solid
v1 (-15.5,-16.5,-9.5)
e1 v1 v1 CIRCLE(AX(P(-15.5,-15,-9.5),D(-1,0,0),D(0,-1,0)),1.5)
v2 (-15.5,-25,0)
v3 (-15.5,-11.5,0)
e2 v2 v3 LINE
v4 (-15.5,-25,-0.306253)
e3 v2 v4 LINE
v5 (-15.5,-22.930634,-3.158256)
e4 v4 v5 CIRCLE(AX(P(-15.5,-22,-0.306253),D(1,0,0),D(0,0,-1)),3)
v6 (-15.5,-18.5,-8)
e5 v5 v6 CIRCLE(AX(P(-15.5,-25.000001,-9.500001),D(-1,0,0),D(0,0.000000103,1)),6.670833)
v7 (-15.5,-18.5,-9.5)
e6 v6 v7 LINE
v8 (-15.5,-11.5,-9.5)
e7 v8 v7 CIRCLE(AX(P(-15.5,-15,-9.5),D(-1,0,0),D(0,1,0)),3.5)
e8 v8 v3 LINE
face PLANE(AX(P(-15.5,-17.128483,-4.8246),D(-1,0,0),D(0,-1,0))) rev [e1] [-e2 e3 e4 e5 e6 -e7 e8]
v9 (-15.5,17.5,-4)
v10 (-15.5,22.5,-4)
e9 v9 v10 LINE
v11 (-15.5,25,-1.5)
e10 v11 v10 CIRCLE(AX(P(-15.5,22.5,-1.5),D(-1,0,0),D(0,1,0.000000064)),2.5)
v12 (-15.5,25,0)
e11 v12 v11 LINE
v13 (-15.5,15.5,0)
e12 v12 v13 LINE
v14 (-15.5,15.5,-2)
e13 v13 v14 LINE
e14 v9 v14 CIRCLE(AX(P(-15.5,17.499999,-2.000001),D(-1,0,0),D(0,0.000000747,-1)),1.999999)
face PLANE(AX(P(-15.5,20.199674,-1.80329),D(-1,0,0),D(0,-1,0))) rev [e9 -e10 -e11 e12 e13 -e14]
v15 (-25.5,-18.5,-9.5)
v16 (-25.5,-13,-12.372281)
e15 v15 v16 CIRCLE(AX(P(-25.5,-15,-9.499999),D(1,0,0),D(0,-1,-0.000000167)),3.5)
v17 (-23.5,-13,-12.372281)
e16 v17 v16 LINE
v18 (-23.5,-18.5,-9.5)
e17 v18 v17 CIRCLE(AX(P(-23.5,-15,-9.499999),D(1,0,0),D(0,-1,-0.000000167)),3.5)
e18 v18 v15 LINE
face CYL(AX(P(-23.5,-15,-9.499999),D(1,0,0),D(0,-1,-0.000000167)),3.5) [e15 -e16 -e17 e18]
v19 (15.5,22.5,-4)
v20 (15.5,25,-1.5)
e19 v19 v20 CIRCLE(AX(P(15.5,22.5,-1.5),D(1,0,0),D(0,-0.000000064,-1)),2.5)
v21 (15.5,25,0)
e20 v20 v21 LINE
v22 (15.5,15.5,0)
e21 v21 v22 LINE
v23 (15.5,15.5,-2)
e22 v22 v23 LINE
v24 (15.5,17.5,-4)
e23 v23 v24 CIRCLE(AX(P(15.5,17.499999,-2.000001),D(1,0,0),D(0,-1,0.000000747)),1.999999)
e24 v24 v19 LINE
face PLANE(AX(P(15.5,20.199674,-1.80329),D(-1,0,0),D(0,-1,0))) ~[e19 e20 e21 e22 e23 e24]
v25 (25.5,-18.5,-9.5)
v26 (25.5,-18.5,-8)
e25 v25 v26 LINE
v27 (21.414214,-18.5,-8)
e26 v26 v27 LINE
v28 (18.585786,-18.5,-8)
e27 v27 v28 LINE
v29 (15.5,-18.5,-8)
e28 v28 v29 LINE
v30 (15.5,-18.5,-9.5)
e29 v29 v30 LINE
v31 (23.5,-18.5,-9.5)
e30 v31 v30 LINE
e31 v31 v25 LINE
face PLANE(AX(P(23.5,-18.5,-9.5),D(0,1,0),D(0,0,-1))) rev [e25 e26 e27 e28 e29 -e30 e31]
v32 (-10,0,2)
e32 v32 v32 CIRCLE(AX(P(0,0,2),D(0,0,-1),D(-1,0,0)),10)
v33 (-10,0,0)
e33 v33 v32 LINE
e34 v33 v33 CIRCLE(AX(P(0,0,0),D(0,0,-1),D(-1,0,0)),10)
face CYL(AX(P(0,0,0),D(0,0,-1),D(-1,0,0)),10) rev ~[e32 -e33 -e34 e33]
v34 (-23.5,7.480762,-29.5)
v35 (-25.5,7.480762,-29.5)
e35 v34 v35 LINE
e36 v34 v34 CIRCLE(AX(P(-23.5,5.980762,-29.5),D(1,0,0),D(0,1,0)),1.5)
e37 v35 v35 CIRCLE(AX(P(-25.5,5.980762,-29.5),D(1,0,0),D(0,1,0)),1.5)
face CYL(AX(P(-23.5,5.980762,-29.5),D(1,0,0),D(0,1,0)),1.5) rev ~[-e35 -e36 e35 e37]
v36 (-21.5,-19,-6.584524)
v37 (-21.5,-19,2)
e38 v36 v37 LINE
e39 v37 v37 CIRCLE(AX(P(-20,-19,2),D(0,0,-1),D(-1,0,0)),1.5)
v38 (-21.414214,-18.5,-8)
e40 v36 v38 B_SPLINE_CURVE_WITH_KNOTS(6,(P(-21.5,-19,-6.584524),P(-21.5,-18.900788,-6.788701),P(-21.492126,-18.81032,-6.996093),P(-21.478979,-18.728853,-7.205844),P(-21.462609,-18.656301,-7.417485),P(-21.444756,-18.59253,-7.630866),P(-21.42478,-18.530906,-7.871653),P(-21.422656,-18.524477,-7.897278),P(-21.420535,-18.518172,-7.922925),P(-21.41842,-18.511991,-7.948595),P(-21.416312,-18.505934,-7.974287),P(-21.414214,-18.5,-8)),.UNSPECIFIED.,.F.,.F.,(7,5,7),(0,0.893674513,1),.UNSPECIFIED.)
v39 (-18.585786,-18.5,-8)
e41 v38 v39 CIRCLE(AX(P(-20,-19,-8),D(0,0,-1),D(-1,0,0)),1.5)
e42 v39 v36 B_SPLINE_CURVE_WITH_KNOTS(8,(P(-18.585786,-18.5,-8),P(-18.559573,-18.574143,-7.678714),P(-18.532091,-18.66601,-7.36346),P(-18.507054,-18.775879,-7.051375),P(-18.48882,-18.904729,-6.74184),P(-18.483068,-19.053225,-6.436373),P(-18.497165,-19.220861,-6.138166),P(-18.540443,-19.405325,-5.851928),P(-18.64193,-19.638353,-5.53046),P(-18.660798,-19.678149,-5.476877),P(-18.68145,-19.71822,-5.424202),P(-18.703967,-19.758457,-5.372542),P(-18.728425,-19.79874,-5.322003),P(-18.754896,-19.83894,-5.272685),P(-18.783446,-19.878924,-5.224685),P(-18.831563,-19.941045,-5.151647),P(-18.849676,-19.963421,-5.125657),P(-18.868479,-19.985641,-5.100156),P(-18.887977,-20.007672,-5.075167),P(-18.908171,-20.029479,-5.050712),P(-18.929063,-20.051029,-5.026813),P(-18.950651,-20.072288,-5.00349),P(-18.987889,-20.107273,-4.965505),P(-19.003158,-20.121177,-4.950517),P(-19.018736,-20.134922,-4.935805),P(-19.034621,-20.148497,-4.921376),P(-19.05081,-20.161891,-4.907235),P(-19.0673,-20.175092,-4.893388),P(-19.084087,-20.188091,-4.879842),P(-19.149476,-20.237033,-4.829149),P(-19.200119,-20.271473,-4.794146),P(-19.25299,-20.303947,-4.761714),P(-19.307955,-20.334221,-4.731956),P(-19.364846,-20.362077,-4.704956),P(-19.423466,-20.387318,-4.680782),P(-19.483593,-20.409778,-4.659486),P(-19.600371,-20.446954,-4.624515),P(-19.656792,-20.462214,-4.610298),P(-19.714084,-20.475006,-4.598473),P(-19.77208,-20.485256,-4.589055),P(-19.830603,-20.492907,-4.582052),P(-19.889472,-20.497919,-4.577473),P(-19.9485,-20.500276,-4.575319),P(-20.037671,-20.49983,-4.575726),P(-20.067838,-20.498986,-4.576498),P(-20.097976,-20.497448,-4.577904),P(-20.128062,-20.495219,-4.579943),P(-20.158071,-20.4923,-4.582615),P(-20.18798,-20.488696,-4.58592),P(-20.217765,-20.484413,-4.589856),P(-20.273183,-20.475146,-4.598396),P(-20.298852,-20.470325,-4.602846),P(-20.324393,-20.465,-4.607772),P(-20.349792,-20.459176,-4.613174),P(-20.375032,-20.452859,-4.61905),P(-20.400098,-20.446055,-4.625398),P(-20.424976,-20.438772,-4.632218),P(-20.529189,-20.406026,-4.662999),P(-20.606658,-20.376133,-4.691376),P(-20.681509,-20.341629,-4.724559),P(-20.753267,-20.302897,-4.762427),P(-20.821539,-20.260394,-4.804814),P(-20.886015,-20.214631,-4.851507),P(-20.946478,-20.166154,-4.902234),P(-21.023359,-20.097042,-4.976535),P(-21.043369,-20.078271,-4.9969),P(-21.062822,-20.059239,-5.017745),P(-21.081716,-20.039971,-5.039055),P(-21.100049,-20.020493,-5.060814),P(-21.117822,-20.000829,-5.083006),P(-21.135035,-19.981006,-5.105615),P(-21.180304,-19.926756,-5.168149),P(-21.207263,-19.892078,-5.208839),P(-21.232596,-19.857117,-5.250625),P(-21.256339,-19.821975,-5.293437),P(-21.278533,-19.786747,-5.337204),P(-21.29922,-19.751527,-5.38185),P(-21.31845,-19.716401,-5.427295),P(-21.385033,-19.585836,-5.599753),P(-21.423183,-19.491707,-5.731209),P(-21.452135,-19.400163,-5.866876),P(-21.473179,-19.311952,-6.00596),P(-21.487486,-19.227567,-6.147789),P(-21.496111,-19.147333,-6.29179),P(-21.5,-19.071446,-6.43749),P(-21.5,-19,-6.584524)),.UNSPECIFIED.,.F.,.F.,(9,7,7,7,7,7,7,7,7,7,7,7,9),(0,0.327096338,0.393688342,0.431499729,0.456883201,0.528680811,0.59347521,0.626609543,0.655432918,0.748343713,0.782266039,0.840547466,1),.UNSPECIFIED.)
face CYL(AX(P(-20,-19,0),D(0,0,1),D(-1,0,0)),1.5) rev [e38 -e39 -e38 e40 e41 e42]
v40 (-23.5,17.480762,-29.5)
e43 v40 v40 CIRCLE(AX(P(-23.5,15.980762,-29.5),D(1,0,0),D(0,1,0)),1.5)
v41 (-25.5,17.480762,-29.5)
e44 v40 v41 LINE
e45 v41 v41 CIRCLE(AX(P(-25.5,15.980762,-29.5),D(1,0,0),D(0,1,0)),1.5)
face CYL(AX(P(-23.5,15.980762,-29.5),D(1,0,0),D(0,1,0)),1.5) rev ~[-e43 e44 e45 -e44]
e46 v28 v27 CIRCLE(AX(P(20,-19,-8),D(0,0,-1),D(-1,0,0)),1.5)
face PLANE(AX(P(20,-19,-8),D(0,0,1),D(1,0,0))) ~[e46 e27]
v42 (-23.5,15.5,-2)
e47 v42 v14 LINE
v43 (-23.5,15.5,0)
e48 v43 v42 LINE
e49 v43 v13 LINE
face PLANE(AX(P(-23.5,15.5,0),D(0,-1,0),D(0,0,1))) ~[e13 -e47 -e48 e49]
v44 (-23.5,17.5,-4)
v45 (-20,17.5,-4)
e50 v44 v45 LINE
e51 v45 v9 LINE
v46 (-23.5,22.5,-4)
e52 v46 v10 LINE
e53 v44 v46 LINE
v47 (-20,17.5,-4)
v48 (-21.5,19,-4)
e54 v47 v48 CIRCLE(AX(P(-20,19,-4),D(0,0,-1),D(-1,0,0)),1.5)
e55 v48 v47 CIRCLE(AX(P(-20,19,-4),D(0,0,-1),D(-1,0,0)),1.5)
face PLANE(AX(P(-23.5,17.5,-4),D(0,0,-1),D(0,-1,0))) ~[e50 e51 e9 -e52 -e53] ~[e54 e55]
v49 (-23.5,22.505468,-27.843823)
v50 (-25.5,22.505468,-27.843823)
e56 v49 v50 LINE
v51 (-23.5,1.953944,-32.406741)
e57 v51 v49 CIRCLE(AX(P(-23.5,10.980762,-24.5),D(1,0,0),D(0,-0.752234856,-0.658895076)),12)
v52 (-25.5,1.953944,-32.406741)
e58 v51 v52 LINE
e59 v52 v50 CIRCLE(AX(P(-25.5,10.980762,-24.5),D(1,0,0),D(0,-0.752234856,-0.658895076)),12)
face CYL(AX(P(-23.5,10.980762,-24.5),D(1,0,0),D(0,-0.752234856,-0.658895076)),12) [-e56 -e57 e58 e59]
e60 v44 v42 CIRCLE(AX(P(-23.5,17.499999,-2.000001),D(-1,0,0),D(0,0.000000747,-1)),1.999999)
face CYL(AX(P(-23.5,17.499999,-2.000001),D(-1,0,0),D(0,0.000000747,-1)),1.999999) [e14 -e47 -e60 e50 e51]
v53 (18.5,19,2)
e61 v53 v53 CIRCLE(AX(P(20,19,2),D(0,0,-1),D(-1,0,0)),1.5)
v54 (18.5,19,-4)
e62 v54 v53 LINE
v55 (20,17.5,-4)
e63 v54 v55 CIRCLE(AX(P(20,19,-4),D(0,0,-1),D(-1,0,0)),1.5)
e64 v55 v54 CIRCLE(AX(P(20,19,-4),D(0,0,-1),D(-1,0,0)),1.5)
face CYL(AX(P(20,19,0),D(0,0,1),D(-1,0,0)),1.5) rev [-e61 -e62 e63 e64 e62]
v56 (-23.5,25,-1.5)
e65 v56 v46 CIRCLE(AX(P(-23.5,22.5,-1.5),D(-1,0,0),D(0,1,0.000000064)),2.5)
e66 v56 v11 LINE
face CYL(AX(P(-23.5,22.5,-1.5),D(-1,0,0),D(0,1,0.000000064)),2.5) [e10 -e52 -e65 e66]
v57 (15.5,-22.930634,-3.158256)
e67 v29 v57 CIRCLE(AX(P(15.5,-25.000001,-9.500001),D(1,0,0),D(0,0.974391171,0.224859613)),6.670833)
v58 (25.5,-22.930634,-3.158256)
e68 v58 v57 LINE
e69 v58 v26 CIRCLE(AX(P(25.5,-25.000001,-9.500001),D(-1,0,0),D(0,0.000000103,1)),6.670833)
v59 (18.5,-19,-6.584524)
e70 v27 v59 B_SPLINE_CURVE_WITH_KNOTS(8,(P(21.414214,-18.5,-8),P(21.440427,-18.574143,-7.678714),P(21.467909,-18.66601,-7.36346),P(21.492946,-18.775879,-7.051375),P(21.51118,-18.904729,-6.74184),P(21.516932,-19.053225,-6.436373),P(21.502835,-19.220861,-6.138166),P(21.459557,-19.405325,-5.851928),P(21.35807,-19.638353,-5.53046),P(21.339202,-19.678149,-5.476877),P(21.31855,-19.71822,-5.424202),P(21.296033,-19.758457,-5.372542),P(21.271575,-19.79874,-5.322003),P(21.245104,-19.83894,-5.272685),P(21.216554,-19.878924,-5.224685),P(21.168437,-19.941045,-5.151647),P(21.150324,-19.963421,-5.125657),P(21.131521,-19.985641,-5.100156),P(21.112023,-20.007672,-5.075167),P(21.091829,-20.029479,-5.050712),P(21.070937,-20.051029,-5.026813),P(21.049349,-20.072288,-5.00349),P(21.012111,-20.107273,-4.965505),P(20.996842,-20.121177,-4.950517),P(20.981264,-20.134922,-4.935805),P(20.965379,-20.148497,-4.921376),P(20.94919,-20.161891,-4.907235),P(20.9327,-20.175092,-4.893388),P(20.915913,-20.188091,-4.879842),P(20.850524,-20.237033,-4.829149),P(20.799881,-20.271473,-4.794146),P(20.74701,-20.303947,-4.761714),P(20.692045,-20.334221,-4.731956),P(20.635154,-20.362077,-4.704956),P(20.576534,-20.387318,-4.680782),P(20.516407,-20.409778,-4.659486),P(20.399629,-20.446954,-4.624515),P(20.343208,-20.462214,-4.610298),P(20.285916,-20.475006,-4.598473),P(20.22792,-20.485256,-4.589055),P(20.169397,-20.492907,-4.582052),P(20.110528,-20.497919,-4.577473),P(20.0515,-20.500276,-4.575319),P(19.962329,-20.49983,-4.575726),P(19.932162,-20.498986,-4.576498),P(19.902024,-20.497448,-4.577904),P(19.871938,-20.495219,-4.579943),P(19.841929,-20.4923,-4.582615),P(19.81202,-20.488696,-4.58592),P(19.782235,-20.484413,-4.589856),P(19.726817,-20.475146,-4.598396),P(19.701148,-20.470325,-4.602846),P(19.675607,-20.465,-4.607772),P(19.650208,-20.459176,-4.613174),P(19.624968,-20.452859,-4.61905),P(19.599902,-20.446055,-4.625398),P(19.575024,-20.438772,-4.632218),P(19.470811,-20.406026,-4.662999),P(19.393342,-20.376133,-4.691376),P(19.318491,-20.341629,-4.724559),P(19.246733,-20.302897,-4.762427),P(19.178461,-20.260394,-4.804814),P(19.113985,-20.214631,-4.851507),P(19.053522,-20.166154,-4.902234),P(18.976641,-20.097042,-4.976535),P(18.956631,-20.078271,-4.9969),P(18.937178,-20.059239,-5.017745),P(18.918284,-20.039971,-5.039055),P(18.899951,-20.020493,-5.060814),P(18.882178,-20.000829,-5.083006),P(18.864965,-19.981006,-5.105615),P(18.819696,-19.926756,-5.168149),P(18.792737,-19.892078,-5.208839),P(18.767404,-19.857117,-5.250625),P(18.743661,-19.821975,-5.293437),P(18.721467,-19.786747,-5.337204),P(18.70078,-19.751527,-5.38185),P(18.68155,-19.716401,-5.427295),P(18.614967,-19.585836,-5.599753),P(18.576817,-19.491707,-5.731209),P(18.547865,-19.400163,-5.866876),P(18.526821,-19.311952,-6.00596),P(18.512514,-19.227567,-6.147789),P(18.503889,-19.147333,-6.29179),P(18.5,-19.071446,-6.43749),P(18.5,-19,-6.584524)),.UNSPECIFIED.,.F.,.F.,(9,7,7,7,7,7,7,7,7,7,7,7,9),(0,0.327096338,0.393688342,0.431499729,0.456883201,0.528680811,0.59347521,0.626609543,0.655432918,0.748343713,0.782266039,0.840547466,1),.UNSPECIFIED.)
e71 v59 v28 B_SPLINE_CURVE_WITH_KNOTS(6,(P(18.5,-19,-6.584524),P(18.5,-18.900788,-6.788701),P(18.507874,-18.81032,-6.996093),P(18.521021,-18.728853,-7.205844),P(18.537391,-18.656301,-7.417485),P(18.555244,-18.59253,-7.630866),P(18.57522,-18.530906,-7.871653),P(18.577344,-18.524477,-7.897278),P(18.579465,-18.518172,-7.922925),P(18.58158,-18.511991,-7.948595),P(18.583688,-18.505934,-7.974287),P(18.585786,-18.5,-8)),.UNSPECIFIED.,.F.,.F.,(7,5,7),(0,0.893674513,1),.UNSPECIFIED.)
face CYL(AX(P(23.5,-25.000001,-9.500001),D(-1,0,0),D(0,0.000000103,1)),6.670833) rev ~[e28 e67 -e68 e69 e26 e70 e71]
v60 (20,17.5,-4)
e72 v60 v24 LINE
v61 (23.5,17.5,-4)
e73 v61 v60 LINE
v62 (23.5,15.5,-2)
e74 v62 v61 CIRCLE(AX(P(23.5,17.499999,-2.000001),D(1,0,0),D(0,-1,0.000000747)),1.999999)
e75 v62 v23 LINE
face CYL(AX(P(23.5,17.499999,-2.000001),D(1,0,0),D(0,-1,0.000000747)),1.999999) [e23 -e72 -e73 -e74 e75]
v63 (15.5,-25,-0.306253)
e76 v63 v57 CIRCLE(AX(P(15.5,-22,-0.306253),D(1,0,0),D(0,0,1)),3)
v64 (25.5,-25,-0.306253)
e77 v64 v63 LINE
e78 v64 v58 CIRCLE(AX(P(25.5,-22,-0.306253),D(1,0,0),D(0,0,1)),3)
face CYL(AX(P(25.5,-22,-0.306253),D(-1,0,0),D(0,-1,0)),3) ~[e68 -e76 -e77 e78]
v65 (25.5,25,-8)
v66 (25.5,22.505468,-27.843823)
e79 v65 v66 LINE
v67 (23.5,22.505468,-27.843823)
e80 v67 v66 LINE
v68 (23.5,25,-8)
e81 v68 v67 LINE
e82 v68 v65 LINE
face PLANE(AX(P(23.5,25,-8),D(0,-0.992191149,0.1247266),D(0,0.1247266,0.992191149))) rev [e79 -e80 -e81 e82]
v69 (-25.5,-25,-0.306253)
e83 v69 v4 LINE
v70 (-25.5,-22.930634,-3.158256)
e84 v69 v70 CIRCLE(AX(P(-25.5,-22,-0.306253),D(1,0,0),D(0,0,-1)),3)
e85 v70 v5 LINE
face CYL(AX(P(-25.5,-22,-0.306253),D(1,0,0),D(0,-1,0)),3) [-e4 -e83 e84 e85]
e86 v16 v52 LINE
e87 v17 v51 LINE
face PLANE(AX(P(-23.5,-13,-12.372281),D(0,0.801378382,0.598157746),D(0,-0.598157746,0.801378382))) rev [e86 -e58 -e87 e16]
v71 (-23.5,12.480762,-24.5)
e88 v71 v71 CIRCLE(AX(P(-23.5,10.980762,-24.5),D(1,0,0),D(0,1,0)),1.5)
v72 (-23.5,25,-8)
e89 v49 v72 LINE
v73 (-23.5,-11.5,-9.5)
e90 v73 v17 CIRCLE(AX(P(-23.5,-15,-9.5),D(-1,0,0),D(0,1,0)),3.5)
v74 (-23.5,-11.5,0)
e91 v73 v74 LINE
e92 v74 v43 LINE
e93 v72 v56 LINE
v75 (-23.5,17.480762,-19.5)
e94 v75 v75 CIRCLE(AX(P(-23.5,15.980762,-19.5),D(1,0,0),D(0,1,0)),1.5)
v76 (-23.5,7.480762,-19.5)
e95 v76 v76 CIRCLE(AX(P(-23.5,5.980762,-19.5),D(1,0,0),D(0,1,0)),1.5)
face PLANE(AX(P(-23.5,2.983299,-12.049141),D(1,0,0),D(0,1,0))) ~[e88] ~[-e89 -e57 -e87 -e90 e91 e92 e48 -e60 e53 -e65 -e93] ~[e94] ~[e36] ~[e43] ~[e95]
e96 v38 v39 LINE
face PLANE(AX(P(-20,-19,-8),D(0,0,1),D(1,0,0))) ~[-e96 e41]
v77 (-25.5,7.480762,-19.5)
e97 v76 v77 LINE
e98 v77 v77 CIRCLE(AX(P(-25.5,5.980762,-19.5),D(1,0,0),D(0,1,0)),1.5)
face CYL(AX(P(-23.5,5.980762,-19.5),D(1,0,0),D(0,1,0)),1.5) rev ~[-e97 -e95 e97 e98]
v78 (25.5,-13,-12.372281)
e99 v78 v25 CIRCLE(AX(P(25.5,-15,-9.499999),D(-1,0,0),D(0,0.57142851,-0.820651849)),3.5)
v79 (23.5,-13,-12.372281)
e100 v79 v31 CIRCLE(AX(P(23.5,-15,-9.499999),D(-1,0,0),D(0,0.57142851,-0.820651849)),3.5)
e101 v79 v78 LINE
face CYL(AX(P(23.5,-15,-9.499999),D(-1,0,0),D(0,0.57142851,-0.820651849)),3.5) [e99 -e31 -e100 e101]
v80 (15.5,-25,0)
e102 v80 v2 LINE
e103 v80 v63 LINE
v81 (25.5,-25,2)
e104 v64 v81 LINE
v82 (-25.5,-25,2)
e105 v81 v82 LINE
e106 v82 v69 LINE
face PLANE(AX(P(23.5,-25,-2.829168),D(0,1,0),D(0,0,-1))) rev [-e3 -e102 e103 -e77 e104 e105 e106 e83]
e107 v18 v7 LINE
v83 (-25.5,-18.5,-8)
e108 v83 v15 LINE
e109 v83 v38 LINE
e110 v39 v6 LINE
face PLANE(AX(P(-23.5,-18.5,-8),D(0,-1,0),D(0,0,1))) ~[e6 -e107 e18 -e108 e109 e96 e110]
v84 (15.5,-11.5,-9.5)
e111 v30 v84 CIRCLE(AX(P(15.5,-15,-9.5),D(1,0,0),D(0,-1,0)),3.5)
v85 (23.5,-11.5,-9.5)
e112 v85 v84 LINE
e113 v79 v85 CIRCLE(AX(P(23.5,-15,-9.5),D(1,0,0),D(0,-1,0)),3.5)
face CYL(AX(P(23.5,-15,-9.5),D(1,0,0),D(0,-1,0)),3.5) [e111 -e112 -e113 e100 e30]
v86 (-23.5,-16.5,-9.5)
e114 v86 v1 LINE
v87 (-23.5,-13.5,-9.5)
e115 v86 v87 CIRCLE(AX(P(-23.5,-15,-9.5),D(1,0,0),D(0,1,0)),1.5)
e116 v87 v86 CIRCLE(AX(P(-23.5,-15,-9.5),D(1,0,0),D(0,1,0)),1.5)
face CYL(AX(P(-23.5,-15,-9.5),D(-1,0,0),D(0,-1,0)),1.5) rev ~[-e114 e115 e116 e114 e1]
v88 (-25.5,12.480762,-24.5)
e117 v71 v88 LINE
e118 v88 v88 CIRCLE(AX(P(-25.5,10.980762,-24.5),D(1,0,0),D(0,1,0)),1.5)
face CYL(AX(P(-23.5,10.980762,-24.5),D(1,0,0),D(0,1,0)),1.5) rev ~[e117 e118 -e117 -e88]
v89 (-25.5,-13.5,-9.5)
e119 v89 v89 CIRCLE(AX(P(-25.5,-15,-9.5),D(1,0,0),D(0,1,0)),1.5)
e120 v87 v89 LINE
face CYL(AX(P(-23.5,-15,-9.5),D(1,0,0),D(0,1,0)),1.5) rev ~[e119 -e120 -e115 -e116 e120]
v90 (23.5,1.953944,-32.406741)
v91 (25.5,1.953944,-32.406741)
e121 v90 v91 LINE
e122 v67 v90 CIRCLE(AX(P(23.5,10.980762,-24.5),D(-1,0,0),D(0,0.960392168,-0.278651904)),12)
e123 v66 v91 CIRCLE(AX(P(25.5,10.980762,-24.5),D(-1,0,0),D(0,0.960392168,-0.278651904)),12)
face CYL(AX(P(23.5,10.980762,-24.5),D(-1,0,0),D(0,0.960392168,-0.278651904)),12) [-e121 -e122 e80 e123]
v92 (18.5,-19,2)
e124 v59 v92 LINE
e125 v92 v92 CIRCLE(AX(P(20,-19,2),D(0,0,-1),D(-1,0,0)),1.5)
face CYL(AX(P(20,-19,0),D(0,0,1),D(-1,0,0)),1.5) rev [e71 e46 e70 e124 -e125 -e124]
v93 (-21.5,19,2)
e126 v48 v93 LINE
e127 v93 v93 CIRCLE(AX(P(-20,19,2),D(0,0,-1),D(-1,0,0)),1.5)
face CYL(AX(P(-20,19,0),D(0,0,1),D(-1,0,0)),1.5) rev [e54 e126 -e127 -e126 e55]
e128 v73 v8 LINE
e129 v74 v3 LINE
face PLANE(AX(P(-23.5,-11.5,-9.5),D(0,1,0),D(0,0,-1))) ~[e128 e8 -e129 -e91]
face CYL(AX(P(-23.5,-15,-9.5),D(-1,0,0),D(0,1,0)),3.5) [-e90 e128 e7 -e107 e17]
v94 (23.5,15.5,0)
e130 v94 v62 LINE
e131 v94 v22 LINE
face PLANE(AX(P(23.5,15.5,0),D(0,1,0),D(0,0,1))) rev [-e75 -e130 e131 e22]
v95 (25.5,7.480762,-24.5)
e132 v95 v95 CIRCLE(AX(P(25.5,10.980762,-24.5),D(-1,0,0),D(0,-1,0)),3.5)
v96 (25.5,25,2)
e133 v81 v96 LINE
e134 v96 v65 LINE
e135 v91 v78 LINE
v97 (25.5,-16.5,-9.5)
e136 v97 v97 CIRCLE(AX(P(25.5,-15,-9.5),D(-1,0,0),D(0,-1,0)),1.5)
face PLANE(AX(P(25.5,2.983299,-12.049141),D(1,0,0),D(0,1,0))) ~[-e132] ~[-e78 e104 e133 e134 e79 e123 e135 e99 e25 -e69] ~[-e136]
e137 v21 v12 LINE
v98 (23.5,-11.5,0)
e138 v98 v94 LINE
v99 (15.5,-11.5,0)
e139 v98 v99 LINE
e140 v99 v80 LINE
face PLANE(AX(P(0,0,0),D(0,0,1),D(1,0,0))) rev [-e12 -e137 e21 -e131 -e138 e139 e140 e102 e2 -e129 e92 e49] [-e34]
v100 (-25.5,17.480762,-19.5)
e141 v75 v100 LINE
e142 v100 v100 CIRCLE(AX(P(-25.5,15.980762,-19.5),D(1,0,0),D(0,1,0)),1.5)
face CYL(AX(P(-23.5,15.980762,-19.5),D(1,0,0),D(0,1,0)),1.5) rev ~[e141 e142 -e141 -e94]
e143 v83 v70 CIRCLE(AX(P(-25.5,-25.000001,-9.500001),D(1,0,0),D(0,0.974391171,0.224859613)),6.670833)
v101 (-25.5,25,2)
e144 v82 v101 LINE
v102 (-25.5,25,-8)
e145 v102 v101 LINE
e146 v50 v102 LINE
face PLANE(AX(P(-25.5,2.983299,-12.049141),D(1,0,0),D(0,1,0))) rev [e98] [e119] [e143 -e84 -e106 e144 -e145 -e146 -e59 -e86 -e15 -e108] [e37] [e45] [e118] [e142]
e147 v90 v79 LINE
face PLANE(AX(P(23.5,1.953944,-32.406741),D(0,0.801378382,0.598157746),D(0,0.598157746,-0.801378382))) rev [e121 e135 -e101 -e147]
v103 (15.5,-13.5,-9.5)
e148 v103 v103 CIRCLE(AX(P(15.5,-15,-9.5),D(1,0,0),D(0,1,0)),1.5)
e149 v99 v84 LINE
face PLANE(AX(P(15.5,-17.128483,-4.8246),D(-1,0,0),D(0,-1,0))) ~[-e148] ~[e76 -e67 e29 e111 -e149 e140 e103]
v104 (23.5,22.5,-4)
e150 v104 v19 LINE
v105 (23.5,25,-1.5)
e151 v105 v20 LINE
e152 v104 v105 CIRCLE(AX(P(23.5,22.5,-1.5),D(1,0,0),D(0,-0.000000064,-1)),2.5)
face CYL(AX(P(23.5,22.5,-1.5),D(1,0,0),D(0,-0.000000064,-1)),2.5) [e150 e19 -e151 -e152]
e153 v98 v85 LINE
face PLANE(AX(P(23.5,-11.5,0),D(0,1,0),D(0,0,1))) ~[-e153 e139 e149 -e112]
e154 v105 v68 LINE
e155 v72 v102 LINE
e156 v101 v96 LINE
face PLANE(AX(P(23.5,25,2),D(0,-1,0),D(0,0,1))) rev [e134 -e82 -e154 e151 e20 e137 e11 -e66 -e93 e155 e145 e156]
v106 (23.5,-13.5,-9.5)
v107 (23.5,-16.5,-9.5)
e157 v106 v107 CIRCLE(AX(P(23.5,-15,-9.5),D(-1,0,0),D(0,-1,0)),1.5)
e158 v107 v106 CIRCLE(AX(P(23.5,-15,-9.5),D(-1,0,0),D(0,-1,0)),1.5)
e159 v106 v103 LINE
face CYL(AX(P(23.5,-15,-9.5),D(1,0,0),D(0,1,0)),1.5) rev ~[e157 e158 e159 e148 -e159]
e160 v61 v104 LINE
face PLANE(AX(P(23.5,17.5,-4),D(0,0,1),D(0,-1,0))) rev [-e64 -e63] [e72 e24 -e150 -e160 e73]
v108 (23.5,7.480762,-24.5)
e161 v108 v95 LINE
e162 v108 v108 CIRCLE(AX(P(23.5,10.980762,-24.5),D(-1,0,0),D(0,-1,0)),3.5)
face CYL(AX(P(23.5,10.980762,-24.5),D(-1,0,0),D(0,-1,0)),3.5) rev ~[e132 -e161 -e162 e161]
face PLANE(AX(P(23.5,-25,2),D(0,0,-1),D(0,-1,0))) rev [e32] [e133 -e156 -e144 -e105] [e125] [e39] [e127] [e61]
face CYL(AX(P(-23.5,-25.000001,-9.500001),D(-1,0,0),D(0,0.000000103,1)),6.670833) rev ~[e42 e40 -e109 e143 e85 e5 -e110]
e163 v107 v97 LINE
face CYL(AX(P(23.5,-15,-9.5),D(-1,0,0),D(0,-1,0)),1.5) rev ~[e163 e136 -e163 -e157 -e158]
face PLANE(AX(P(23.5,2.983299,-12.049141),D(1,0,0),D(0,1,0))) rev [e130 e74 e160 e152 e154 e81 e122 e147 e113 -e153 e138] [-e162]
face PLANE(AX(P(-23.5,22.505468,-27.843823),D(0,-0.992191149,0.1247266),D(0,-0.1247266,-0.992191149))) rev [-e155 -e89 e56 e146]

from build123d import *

# Parameters (mm, degrees)
SKETCH_W        = 47
SKETCH_H        = 50
SKETCH_R        = 10
SKETCH_R_2      = 1.5
PAD_DEPTH       = 2
SKETCH001_R     = 1.5
PAD001_DEPTH    = 2
SKETCH002_R     = 1.5
PAD002_DEPTH    = 8
SKETCH004_R     = 1.5
POCKET_DEPTH    = 8
PAD003_DEPTH    = 8
SKETCH005_R     = 1.5
POCKET001_DEPTH = 4
SKETCH006_R     = 1.5
SKETCH006_R_2   = 3.5
PAD004_DEPTH    = 2
SKETCH007_R     = 1.5
PAD005_DEPTH    = 8
SKETCH008_R     = 1.5
POCKET002_DEPTH = 8
PAD006_DEPTH    = 8
SKETCH010_R     = 1.5
POCKET003_DEPTH = 4
FILLET_R        = 3


with BuildPart() as body:
    # Sketch → Pad (new body)
    with BuildSketch(Plane.XY):
        Rectangle(SKETCH_W, SKETCH_H)
        Circle(SKETCH_R, mode=Mode.SUBTRACT)
        with Locations((-20, -19)):
            Circle(SKETCH_R_2, mode=Mode.SUBTRACT)
        with Locations((20, -19)):
            Circle(SKETCH_R_2, mode=Mode.SUBTRACT)
        with Locations((-20, 19)):
            Circle(SKETCH_R_2, mode=Mode.SUBTRACT)
        with Locations((20, 19)):
            Circle(SKETCH_R_2, mode=Mode.SUBTRACT)
    extrude(amount=PAD_DEPTH)

    # Sketch001 (on Face2 of Pad) → Pad001 (join)
    with BuildSketch(Plane.YZ.offset(23.5)):
        with BuildLine():
            Line((-25, 2), (25, 2))
            Line((25, -8), (25, 2))
            Line((22.505468, -27.843823), (25, -8))
            ThreePointArc((1.953944, -32.406741), (13.581707, -36.214738), (22.505468, -27.843823))
            Line((-13, -12.372281), (1.953944, -32.406741))
            ThreePointArc((-18.5, -9.5), (-16.620185, -12.602418), (-13, -12.372281))
            Line((-18.5, -8), (-18.5, -9.5))
            ThreePointArc((-18.5, -8), (-20.847064, -4.279548), (-25, -2.829168))
            Line((-25, 2), (-25, -2.829168))
        make_face()
        with Locations((-15, -9.5)):
            Circle(SKETCH001_R, mode=Mode.SUBTRACT)
        with Locations((15.980762, -19.5)):
            Circle(SKETCH001_R, mode=Mode.SUBTRACT)
        with Locations((5.980762, -19.5)):
            Circle(SKETCH001_R, mode=Mode.SUBTRACT)
        with Locations((10.980762, -24.5)):
            Circle(SKETCH001_R, mode=Mode.SUBTRACT)
        with Locations((15.980762, -29.5)):
            Circle(SKETCH001_R, mode=Mode.SUBTRACT)
        with Locations((5.980762, -29.5)):
            Circle(SKETCH001_R, mode=Mode.SUBTRACT)
    extrude(amount=PAD001_DEPTH)

    # Sketch002 (on Face9 of Pad001) → Pad002 (join)
    with BuildSketch(Plane(origin=(23.5, 0, 0), x_dir=(0, -1, 0), z_dir=(-1, 0, 0))):
        with BuildLine():
            Line((18.5, -8), (18.5, -9.5))
            ThreePointArc((11.5, -9.5), (15, -13), (18.5, -9.5))
            Line((11.5, -9.5), (11.5, 0))
            Line((25, 0), (11.5, 0))
            Line((25, 0), (25, -2.829168))
            ThreePointArc((25, -2.829168), (20.847064, -4.279548), (18.5, -8))
        make_face()
        with Locations((15, -9.5)):
            Circle(SKETCH002_R, mode=Mode.SUBTRACT)
    extrude(amount=PAD002_DEPTH)

    # Sketch004 (on Face35 of Pad002) → Pocket (cut)
    with BuildSketch(Plane.XY):
        with Locations((20, -19)):
            Circle(SKETCH004_R)
    extrude(amount=-POCKET_DEPTH, mode=Mode.SUBTRACT)

    # Sketch003 (on Face9 of Pad002) → Pad003 (join)
    with BuildSketch(Plane(origin=(23.5, 0, 0), x_dir=(0, -1, 0), z_dir=(-1, 0, 0))):
        with BuildLine():
            Line((-25, 0), (-15.5, 0))
            Line((-15.5, 0), (-15.5, -2))
            ThreePointArc((-17.5, -4), (-16.085786, -3.414214), (-15.5, -2))
            Line((-17.5, -4), (-22.5, -4))
            ThreePointArc((-25, -1.5), (-24.267767, -3.267767), (-22.5, -4))
            Line((-25, 0), (-25, -1.5))
        make_face()
    extrude(amount=PAD003_DEPTH)

    # Sketch005 (on Face41 of Pad003) → Pocket001 (cut)
    with BuildSketch(Plane.XY):
        with Locations((20, 19)):
            Circle(SKETCH005_R)
    extrude(amount=-POCKET001_DEPTH, mode=Mode.SUBTRACT)

    # Sketch006 (on Face2 of Pocket001) → Pad004 (join)
    with BuildSketch(Plane(origin=(-23.5, 0, 0), x_dir=(0, -1, 0), z_dir=(-1, 0, 0))):
        with BuildLine():
            Line((25, 2), (-25, 2))
            Line((-25, 2), (-25, -8))
            Line((-25, -8), (-22.505468, -27.843823))
            ThreePointArc((-22.505468, -27.843823), (-13.581707, -36.214738), (-1.953944, -32.406741))
            Line((-1.953944, -32.406741), (13, -12.372281))
            ThreePointArc((13, -12.372281), (16.620185, -12.602418), (18.5, -9.5))
            Line((18.5, -9.5), (18.5, -8))
            ThreePointArc((25, -2.829168), (20.847064, -4.279548), (18.5, -8))
            Line((25, -2.829168), (25, 2))
        make_face()
        with Locations((15, -9.5)):
            Circle(SKETCH006_R, mode=Mode.SUBTRACT)
        with Locations((-10.980762, -24.5)):
            Circle(SKETCH006_R_2, mode=Mode.SUBTRACT)
    extrude(amount=PAD004_DEPTH)

    # Sketch007 (on Face9 of Pad004) → Pad005 (join)
    with BuildSketch(Plane.YZ.offset(-23.5)):
        with BuildLine():
            Line((-11.5, 0), (-25, 0))
            Line((-25, 0), (-25, -2.829168))
            ThreePointArc((-18.5, -8), (-20.847064, -4.279548), (-25, -2.829168))
            Line((-18.5, -8), (-18.5, -9.5))
            ThreePointArc((-18.5, -9.5), (-15, -13), (-11.5, -9.5))
            Line((-11.5, 0), (-11.5, -9.5))
        make_face()
        with Locations((-15, -9.5)):
            Circle(SKETCH007_R, mode=Mode.SUBTRACT)
    extrude(amount=PAD005_DEPTH)

    # Sketch008 (on Face62 of Pad005) → Pocket002 (cut)
    with BuildSketch(Plane.XY):
        with Locations((-20, -19)):
            Circle(SKETCH008_R)
    extrude(amount=-POCKET002_DEPTH, mode=Mode.SUBTRACT)

    # Sketch009 (on Face9 of Pocket002) → Pad006 (join)
    with BuildSketch(Plane.YZ.offset(-23.5)):
        with BuildLine():
            Line((25, 0), (15.5, 0))
            Line((15.5, 0), (15.5, -2))
            ThreePointArc((15.5, -2), (16.085786, -3.414214), (17.5, -4))
            Line((17.5, -4), (22.5, -4))
            ThreePointArc((22.5, -4), (24.267767, -3.267767), (25, -1.5))
            Line((25, -1.5), (25, 0))
        make_face()
    extrude(amount=PAD006_DEPTH)

    # Sketch010 (on Face67 of Pad006) → Pocket003 (cut)
    with BuildSketch(Plane.XY):
        with Locations((-20, 19)):
            Circle(SKETCH010_R)
    extrude(amount=-POCKET003_DEPTH, mode=Mode.SUBTRACT)

    # Fillet
    fillet_edges = [body.edges().sort_by_distance(p)[0] for p in [
        (-19.5, -25, -2.829168),
        (-24.5, -25, -2.829168),
        (19.5, -25, -2.829168),
        (24.5, -25, -2.829168),
    ]]
    fillet(fillet_edges, radius=FILLET_R)


with BuildPart() as part_mirroring:
    # Part__Mirroring: instance of Body
    add(body.part.mirror(Plane(origin=(0, 0, 0), x_dir=(0, -1, 0), z_dir=(1, 0, 0))))


solid = part_mirroring.part
